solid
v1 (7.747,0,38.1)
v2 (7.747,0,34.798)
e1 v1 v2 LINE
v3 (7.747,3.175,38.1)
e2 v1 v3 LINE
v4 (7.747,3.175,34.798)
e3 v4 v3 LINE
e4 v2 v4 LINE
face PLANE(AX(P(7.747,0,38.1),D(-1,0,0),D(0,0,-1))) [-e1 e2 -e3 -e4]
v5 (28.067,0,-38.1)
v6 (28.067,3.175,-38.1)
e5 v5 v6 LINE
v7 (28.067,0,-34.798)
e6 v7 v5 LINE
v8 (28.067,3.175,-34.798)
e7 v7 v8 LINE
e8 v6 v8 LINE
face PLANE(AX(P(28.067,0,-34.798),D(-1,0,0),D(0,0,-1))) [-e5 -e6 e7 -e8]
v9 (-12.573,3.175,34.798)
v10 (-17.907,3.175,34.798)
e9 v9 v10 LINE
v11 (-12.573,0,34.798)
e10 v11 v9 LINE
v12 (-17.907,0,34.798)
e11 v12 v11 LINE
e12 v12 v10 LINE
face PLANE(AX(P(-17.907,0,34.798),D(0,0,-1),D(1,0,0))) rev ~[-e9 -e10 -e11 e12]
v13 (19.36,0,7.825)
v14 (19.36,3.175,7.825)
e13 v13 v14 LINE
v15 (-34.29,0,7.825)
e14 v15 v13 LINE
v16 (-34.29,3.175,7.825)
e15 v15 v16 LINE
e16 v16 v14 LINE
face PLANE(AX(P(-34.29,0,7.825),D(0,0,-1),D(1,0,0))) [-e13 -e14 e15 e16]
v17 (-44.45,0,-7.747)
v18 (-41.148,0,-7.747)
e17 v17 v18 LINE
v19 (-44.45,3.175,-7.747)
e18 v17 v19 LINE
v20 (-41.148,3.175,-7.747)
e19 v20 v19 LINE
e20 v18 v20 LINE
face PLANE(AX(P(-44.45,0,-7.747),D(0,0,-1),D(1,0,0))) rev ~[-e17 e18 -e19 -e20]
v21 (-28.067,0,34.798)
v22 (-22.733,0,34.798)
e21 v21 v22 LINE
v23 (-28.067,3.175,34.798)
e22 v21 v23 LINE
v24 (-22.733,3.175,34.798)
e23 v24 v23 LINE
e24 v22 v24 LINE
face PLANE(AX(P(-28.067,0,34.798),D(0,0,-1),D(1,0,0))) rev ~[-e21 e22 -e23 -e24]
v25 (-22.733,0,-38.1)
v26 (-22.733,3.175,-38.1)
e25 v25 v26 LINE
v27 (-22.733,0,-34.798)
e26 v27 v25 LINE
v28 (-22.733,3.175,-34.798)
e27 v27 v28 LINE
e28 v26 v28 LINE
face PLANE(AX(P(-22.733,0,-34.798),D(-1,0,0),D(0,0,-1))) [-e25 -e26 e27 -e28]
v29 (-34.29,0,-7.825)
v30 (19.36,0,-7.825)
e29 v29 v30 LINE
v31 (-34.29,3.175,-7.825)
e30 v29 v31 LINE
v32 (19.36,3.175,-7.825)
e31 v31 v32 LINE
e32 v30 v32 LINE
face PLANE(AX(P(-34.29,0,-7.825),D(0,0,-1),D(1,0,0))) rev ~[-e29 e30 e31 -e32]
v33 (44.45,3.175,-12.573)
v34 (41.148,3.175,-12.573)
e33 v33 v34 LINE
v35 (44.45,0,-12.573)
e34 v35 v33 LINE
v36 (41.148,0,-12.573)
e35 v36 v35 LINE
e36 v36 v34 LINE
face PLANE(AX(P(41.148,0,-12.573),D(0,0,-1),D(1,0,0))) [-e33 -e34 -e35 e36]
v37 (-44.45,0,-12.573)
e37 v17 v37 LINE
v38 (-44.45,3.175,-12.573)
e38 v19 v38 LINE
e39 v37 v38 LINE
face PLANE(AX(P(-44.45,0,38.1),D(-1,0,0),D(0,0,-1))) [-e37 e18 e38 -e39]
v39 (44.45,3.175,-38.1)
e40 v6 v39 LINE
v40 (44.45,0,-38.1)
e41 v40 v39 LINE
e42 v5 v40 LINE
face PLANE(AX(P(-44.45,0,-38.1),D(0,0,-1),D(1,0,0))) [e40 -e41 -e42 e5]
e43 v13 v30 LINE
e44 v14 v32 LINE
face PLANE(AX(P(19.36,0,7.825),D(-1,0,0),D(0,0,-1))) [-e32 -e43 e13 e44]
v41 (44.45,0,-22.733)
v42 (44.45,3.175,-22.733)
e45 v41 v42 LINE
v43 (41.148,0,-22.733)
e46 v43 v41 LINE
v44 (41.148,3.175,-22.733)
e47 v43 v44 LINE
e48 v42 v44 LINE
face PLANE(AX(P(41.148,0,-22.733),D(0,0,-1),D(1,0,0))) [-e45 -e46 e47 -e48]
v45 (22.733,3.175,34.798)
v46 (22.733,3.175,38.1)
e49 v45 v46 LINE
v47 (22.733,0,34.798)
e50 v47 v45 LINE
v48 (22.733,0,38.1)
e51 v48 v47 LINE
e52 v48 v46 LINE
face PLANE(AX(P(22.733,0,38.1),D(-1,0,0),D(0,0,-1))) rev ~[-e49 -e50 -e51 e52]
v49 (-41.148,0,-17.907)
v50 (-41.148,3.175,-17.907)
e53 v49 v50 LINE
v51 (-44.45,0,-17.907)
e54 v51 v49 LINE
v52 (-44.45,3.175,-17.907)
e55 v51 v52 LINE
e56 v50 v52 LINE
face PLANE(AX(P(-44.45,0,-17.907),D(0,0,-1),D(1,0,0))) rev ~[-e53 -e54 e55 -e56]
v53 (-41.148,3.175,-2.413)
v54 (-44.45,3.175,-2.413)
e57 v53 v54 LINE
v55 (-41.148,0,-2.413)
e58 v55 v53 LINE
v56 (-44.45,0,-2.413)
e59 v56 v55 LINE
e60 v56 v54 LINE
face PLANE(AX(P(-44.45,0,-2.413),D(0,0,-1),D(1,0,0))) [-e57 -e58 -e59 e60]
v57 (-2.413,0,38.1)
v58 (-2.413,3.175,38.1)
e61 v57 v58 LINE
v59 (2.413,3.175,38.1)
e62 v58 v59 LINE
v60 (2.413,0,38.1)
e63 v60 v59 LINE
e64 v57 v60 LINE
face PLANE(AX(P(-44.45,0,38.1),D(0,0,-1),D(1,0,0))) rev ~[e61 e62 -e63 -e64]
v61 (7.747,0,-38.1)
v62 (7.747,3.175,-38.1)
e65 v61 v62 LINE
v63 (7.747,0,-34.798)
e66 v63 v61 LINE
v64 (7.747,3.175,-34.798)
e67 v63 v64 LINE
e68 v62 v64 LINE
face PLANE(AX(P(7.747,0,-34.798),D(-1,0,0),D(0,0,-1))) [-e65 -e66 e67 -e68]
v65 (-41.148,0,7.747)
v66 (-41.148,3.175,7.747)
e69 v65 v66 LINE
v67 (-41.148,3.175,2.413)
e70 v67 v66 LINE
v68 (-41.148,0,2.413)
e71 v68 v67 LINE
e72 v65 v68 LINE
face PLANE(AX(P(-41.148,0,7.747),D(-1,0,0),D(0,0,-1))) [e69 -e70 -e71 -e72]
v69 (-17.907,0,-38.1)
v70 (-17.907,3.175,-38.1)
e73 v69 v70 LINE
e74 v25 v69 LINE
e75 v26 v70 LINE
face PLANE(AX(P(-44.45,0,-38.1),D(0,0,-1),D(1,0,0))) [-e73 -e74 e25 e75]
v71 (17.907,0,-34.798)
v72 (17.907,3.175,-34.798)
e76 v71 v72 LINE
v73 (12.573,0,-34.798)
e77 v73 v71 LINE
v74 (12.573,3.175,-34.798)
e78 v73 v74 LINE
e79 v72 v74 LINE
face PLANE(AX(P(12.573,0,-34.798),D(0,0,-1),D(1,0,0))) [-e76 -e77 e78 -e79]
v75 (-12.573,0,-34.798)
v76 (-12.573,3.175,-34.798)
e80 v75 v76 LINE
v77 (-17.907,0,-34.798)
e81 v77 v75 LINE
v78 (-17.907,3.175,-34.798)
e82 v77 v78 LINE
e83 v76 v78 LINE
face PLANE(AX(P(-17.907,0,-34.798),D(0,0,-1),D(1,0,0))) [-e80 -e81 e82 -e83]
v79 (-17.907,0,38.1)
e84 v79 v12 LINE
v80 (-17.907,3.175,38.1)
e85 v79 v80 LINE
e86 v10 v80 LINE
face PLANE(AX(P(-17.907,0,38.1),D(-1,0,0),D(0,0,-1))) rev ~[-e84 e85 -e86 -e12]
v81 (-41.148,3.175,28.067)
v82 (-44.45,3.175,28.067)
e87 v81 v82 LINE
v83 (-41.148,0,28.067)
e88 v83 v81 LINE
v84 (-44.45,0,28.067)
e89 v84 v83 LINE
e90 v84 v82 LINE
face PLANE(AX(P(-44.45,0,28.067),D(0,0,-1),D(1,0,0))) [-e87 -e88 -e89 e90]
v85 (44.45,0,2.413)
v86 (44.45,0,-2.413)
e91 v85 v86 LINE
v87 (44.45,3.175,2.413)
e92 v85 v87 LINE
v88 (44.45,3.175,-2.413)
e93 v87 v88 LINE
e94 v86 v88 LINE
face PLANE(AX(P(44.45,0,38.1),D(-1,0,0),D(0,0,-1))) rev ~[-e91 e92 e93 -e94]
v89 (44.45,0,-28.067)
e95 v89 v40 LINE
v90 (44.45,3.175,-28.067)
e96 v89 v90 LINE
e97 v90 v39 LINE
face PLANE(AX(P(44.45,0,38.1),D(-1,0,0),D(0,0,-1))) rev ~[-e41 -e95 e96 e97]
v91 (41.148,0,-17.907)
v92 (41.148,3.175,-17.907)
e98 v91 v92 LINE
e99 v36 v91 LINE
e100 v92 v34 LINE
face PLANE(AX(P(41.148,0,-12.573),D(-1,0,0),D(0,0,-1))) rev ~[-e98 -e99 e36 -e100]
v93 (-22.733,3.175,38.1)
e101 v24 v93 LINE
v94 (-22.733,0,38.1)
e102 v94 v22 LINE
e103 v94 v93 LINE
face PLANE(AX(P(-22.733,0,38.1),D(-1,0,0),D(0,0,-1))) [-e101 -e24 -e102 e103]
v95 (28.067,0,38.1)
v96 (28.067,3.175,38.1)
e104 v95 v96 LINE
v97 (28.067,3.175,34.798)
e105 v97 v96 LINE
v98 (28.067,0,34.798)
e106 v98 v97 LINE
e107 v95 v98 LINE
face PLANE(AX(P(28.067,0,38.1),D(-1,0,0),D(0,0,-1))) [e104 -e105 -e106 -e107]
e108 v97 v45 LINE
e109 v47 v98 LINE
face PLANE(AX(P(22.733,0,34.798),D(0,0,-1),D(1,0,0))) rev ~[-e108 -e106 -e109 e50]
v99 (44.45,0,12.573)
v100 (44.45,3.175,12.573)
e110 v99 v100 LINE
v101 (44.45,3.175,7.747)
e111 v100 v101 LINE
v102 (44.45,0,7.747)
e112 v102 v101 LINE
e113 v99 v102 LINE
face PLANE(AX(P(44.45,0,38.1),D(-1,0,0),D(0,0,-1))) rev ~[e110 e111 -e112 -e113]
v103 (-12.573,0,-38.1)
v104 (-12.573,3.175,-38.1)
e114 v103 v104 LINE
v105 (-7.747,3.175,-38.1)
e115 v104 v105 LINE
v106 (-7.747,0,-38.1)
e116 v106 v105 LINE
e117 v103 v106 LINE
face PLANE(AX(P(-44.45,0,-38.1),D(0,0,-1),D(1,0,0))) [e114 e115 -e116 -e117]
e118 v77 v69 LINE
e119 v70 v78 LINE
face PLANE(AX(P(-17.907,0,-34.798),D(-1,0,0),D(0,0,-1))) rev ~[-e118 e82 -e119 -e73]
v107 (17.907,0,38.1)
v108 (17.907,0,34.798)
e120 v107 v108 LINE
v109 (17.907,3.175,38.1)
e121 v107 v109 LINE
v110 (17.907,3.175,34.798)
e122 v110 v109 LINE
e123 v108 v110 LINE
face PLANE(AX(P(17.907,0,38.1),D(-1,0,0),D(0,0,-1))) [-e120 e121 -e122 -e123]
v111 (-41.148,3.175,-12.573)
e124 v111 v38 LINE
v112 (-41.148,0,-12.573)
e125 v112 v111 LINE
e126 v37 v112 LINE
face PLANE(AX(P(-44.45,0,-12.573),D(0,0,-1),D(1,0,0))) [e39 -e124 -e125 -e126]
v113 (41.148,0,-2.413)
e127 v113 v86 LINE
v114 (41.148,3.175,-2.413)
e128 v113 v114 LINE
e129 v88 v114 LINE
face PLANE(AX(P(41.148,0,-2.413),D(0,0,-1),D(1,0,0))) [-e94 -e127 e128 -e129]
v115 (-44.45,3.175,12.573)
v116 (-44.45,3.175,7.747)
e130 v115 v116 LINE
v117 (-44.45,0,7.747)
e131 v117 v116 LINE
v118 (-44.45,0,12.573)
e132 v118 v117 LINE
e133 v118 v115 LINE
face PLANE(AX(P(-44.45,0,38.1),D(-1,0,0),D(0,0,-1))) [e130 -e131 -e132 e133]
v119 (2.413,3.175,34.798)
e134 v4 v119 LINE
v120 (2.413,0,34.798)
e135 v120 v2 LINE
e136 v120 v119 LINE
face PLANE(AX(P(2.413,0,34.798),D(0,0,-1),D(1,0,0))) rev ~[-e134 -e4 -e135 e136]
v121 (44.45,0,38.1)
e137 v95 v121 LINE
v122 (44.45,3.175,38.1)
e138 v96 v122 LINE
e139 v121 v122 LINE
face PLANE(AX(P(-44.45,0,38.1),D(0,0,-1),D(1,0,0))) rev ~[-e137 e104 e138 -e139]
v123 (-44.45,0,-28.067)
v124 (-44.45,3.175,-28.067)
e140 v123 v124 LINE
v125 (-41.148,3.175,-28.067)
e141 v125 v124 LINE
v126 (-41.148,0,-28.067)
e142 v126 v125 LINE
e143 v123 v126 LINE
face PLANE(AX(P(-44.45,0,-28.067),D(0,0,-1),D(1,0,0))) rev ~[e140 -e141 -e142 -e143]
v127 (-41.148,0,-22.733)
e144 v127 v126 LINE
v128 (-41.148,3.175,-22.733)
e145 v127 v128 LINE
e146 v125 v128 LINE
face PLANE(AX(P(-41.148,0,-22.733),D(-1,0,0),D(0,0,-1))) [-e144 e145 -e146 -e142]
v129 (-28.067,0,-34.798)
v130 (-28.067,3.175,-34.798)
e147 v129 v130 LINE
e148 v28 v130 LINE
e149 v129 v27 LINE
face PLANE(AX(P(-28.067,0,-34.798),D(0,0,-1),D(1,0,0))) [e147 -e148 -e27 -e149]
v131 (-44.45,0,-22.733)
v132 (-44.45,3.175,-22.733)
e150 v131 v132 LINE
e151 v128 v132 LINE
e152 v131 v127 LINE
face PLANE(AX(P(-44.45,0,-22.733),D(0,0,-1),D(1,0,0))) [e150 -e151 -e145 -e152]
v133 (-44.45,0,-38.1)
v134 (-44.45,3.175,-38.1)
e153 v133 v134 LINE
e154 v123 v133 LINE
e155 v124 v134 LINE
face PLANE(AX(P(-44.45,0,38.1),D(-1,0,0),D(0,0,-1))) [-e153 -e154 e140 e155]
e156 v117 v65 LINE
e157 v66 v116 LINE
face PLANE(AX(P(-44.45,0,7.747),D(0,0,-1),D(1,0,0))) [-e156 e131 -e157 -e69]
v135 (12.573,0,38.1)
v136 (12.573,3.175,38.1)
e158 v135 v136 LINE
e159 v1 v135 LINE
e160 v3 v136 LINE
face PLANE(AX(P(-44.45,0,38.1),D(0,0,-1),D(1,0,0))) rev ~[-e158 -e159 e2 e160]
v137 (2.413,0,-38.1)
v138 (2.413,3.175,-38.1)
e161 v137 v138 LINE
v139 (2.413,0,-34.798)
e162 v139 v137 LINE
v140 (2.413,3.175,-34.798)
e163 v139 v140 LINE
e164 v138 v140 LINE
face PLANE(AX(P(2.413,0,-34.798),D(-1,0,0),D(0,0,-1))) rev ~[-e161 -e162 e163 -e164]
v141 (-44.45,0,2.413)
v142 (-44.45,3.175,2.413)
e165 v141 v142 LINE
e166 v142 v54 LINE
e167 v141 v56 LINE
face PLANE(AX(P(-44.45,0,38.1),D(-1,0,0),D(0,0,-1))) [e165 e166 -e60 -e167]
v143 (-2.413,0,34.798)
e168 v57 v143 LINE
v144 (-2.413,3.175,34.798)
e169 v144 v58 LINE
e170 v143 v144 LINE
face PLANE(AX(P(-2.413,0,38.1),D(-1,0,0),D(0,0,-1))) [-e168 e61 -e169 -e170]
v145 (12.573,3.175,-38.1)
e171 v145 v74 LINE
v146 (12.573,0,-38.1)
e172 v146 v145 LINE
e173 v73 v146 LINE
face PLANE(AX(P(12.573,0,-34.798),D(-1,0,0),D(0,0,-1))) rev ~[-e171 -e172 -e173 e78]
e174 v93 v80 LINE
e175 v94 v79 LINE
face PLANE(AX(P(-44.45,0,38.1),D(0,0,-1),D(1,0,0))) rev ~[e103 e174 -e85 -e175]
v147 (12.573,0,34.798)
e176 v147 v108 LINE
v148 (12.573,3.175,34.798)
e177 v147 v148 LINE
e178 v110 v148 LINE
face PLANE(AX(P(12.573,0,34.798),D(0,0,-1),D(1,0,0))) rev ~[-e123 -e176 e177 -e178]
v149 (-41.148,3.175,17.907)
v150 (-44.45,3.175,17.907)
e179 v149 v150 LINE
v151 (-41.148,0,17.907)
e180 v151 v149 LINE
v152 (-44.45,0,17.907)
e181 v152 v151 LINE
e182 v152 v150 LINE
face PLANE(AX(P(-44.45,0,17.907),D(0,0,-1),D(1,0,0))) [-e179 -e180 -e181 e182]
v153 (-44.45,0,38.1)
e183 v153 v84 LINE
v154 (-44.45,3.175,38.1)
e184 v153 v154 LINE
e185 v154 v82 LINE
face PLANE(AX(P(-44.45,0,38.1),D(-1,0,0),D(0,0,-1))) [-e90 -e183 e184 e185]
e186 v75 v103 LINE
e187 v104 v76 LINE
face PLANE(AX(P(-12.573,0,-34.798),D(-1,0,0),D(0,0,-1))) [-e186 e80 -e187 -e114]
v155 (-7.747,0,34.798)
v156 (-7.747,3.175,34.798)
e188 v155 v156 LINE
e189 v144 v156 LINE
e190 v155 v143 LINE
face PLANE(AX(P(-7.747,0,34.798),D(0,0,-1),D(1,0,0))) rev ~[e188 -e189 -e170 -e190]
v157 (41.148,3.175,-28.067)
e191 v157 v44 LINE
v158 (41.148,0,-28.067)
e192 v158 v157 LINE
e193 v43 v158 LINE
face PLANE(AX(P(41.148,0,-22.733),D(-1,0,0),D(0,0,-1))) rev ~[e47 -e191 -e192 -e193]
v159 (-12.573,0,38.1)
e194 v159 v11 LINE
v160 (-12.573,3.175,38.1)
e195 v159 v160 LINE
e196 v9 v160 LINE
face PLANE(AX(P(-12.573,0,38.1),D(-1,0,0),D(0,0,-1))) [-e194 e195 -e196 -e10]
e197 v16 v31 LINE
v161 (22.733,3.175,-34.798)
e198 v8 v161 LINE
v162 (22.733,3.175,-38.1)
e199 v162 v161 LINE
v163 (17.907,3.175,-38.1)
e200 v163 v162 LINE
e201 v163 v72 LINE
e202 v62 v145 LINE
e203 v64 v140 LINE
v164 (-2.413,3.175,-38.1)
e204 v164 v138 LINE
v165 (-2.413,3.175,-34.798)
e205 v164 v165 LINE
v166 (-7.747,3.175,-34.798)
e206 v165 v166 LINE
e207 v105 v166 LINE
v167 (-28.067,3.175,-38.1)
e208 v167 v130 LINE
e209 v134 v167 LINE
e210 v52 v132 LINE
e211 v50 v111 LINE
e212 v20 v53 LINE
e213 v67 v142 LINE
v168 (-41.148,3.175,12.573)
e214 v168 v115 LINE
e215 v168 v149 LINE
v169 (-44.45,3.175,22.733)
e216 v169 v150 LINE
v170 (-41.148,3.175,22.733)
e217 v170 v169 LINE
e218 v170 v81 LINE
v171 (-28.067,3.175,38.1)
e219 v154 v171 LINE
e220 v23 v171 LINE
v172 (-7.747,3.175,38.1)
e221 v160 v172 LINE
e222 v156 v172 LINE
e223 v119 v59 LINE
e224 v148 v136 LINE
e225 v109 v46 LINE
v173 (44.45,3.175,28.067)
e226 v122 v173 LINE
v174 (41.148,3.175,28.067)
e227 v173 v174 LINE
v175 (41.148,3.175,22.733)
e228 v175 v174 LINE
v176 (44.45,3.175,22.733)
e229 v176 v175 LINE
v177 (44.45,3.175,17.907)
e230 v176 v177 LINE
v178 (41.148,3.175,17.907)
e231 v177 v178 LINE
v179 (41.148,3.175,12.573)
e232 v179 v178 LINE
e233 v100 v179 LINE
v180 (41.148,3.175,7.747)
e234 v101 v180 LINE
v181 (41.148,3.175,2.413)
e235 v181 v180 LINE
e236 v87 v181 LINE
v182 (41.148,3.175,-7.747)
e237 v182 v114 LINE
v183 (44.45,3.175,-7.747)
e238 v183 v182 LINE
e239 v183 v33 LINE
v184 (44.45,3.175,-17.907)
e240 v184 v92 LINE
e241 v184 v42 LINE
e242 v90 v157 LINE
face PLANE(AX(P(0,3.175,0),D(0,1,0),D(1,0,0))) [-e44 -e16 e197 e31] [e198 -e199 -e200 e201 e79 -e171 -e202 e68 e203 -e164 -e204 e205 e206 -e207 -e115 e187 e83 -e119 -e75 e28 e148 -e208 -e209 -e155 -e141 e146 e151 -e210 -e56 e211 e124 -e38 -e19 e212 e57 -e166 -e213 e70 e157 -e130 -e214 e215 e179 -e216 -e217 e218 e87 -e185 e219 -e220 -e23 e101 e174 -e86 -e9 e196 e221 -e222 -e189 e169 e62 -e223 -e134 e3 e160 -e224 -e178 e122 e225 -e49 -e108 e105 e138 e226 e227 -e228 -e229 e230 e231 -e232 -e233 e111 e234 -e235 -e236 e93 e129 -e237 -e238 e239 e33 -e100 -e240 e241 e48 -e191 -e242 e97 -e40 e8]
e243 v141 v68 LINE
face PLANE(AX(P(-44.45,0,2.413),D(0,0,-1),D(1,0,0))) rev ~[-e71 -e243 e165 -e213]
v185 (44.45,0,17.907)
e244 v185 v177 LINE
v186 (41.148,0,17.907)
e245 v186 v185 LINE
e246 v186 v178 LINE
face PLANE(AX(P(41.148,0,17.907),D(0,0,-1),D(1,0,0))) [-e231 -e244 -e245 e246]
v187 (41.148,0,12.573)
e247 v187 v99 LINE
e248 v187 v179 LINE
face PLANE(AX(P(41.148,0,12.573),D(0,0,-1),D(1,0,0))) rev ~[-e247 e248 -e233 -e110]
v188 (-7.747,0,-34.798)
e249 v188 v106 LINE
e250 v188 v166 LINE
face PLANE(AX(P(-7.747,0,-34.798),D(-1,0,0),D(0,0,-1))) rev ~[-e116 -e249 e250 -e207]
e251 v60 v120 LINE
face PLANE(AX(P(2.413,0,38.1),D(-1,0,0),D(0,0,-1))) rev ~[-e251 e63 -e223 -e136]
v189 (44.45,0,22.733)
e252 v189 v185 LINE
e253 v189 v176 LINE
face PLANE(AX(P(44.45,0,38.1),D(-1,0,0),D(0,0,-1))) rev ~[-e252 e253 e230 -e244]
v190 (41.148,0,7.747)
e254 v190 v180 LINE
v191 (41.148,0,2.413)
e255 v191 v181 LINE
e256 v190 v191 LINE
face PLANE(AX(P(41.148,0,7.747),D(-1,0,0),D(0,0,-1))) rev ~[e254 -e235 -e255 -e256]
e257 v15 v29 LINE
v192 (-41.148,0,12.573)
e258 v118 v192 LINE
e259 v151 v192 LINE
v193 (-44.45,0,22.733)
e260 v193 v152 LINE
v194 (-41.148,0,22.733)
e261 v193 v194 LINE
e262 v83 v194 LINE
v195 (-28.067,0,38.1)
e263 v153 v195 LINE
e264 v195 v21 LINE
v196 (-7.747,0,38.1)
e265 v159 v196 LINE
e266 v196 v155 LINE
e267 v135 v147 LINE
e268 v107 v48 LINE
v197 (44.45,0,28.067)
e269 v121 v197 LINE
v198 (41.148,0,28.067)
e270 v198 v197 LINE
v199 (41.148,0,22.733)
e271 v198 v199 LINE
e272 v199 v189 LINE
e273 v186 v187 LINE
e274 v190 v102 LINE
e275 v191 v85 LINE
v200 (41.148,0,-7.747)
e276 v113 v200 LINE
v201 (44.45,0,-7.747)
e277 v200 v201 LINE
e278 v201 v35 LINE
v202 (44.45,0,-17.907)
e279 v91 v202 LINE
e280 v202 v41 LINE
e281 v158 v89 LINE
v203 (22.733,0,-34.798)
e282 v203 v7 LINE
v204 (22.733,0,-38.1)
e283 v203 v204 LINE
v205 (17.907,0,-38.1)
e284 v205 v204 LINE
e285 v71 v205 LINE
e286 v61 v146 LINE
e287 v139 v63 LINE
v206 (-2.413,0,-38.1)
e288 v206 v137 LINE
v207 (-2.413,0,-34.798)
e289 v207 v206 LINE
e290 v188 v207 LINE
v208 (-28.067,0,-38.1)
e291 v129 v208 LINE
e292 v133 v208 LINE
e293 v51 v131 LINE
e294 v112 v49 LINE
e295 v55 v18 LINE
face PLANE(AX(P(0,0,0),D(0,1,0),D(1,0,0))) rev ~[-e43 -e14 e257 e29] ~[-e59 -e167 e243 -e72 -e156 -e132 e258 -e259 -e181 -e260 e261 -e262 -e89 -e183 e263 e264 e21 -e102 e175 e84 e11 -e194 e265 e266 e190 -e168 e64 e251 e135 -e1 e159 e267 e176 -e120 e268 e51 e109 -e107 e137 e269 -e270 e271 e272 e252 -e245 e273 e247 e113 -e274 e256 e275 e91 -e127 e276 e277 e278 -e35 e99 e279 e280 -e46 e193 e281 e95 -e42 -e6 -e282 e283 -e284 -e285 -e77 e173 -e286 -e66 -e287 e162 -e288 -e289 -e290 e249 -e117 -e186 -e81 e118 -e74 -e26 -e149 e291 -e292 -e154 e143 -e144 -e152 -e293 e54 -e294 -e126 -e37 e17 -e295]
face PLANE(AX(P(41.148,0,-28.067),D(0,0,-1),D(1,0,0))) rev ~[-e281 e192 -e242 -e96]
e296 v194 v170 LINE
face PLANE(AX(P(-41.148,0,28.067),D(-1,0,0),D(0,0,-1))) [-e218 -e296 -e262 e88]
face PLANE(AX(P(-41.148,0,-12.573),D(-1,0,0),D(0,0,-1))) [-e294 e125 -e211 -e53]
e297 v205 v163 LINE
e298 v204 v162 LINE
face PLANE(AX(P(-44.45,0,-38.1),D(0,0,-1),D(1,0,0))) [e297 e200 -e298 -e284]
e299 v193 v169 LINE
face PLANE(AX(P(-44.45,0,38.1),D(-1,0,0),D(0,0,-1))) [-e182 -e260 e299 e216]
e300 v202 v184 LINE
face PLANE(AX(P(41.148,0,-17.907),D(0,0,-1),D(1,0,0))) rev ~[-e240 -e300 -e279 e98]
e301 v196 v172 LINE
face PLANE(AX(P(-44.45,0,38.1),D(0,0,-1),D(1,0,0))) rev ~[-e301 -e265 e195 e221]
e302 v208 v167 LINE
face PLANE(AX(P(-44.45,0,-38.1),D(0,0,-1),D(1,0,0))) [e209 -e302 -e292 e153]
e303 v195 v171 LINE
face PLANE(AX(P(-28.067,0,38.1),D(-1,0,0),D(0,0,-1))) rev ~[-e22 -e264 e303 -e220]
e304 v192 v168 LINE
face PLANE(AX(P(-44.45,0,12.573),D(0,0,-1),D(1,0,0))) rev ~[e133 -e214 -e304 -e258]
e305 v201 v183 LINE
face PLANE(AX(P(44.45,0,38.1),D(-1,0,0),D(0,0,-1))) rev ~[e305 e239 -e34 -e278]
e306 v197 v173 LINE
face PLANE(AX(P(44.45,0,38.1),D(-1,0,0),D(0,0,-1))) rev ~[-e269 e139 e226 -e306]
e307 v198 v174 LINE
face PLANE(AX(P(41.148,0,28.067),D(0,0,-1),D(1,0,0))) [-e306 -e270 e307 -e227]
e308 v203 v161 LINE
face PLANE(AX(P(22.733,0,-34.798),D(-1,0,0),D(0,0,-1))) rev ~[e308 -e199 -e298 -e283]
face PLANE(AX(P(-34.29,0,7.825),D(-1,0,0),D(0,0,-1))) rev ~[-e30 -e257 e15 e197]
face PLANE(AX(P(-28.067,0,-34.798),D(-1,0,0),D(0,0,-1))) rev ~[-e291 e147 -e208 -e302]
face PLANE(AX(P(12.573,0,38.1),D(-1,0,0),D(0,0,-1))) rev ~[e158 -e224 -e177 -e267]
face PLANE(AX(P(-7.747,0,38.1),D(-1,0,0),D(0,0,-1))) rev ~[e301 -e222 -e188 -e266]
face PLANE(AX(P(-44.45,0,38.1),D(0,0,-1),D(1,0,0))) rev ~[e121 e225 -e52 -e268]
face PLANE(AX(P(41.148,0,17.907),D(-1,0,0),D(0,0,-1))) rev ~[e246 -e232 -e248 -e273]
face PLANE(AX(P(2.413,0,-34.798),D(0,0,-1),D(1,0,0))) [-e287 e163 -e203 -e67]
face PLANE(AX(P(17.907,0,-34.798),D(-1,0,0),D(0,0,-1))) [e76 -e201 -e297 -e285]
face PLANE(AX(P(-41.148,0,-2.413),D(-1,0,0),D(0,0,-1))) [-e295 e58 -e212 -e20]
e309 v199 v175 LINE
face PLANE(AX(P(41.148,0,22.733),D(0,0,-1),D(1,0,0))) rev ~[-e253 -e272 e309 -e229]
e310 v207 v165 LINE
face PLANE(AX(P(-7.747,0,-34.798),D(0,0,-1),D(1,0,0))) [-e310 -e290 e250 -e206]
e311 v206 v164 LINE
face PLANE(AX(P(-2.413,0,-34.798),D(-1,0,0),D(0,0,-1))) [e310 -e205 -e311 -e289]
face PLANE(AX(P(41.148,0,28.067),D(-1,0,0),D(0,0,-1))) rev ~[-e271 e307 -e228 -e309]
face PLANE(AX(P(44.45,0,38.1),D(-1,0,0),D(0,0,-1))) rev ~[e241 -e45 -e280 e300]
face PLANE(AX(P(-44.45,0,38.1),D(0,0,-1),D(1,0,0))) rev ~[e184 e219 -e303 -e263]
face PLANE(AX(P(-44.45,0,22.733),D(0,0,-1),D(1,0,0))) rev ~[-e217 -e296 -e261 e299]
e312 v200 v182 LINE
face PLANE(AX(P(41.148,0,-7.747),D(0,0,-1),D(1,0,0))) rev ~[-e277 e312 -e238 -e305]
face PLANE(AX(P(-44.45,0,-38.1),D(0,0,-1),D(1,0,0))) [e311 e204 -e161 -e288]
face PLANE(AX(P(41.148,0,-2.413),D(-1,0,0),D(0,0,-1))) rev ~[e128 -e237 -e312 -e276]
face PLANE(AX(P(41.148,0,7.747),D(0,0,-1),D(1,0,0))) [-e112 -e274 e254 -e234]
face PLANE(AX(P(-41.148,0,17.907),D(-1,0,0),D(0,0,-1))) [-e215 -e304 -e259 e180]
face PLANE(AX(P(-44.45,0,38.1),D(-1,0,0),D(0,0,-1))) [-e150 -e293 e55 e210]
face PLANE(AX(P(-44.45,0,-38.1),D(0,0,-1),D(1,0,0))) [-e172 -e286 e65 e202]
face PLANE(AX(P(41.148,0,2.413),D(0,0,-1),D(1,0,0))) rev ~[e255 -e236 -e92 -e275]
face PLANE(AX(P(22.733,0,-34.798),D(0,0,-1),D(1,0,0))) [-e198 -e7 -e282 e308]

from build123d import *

# Parameters (mm, degrees)
SKETCH1_W           = 88.9
SKETCH1_H           = 76.2
SKETCH1_W_2         = 53.65
SKETCH1_H_2         = 15.65
BOSS_EXTRUDE1_DEPTH = 3.175
SKETCH2_W           = 5.334
SKETCH2_H           = 3.302
SKETCH2_W_2         = 3.302
SKETCH2_H_2         = 5.334
CUT_EXTRUDE1_DEPTH  = 59.630138368


with BuildPart() as part:
    # Sketch1 → Boss-Extrude1 (new body)
    with BuildSketch(Plane(origin=(0, 0, 0), x_dir=(1, 0, 0), z_dir=(0, 1, 0))):
        Rectangle(SKETCH1_W, SKETCH1_H)
        with Locations((-7.465, 0)):
            Rectangle(SKETCH1_W_2, SKETCH1_H_2, mode=Mode.SUBTRACT)
    extrude(amount=BOSS_EXTRUDE1_DEPTH)

    # Sketch2 → Cut-Extrude1 (cut, through all)
    with BuildSketch(Plane(origin=(0, 0, 0), x_dir=(1, 0, 0), z_dir=(0, 1, 0))):
        with Locations((-25.4, -36.449)):
            Rectangle(SKETCH2_W, SKETCH2_H)
        with Locations((-42.799, -15.24)):
            Rectangle(SKETCH2_W_2, SKETCH2_H_2)
        with Locations((-42.799, -25.4)):
            Rectangle(SKETCH2_W_2, SKETCH2_H_2)
        with Locations((-42.799, -5.08)):
            Rectangle(SKETCH2_W_2, SKETCH2_H_2)
        with Locations((-42.799, 5.08)):
            Rectangle(SKETCH2_W_2, SKETCH2_H_2)
        with Locations((-42.799, 15.24)):
            Rectangle(SKETCH2_W_2, SKETCH2_H_2)
        with Locations((-42.799, 25.4)):
            Rectangle(SKETCH2_W_2, SKETCH2_H_2)
        with Locations((42.799, 25.4)):
            Rectangle(SKETCH2_W_2, SKETCH2_H_2)
        with Locations((42.799, 15.24)):
            Rectangle(SKETCH2_W_2, SKETCH2_H_2)
        with Locations((42.799, 5.08)):
            Rectangle(SKETCH2_W_2, SKETCH2_H_2)
        with Locations((42.799, -5.08)):
            Rectangle(SKETCH2_W_2, SKETCH2_H_2)
        with Locations((42.799, -15.24)):
            Rectangle(SKETCH2_W_2, SKETCH2_H_2)
        with Locations((42.799, -25.4)):
            Rectangle(SKETCH2_W_2, SKETCH2_H_2)
        with Locations((-15.24, -36.449)):
            Rectangle(SKETCH2_W, SKETCH2_H)
        with Locations((-5.08, -36.449)):
            Rectangle(SKETCH2_W, SKETCH2_H)
        with Locations((5.08, -36.449)):
            Rectangle(SKETCH2_W, SKETCH2_H)
        with Locations((15.24, -36.449)):
            Rectangle(SKETCH2_W, SKETCH2_H)
        with Locations((25.4, -36.449)):
            Rectangle(SKETCH2_W, SKETCH2_H)
        with Locations((25.4, 36.449)):
            Rectangle(SKETCH2_W, SKETCH2_H)
        with Locations((15.24, 36.449)):
            Rectangle(SKETCH2_W, SKETCH2_H)
        with Locations((5.08, 36.449)):
            Rectangle(SKETCH2_W, SKETCH2_H)
        with Locations((-5.08, 36.449)):
            Rectangle(SKETCH2_W, SKETCH2_H)
        with Locations((-15.24, 36.449)):
            Rectangle(SKETCH2_W, SKETCH2_H)
        with Locations((-25.4, 36.449)):
            Rectangle(SKETCH2_W, SKETCH2_H)
    extrude(amount=CUT_EXTRUDE1_DEPTH, mode=Mode.SUBTRACT)


solid = part.part
